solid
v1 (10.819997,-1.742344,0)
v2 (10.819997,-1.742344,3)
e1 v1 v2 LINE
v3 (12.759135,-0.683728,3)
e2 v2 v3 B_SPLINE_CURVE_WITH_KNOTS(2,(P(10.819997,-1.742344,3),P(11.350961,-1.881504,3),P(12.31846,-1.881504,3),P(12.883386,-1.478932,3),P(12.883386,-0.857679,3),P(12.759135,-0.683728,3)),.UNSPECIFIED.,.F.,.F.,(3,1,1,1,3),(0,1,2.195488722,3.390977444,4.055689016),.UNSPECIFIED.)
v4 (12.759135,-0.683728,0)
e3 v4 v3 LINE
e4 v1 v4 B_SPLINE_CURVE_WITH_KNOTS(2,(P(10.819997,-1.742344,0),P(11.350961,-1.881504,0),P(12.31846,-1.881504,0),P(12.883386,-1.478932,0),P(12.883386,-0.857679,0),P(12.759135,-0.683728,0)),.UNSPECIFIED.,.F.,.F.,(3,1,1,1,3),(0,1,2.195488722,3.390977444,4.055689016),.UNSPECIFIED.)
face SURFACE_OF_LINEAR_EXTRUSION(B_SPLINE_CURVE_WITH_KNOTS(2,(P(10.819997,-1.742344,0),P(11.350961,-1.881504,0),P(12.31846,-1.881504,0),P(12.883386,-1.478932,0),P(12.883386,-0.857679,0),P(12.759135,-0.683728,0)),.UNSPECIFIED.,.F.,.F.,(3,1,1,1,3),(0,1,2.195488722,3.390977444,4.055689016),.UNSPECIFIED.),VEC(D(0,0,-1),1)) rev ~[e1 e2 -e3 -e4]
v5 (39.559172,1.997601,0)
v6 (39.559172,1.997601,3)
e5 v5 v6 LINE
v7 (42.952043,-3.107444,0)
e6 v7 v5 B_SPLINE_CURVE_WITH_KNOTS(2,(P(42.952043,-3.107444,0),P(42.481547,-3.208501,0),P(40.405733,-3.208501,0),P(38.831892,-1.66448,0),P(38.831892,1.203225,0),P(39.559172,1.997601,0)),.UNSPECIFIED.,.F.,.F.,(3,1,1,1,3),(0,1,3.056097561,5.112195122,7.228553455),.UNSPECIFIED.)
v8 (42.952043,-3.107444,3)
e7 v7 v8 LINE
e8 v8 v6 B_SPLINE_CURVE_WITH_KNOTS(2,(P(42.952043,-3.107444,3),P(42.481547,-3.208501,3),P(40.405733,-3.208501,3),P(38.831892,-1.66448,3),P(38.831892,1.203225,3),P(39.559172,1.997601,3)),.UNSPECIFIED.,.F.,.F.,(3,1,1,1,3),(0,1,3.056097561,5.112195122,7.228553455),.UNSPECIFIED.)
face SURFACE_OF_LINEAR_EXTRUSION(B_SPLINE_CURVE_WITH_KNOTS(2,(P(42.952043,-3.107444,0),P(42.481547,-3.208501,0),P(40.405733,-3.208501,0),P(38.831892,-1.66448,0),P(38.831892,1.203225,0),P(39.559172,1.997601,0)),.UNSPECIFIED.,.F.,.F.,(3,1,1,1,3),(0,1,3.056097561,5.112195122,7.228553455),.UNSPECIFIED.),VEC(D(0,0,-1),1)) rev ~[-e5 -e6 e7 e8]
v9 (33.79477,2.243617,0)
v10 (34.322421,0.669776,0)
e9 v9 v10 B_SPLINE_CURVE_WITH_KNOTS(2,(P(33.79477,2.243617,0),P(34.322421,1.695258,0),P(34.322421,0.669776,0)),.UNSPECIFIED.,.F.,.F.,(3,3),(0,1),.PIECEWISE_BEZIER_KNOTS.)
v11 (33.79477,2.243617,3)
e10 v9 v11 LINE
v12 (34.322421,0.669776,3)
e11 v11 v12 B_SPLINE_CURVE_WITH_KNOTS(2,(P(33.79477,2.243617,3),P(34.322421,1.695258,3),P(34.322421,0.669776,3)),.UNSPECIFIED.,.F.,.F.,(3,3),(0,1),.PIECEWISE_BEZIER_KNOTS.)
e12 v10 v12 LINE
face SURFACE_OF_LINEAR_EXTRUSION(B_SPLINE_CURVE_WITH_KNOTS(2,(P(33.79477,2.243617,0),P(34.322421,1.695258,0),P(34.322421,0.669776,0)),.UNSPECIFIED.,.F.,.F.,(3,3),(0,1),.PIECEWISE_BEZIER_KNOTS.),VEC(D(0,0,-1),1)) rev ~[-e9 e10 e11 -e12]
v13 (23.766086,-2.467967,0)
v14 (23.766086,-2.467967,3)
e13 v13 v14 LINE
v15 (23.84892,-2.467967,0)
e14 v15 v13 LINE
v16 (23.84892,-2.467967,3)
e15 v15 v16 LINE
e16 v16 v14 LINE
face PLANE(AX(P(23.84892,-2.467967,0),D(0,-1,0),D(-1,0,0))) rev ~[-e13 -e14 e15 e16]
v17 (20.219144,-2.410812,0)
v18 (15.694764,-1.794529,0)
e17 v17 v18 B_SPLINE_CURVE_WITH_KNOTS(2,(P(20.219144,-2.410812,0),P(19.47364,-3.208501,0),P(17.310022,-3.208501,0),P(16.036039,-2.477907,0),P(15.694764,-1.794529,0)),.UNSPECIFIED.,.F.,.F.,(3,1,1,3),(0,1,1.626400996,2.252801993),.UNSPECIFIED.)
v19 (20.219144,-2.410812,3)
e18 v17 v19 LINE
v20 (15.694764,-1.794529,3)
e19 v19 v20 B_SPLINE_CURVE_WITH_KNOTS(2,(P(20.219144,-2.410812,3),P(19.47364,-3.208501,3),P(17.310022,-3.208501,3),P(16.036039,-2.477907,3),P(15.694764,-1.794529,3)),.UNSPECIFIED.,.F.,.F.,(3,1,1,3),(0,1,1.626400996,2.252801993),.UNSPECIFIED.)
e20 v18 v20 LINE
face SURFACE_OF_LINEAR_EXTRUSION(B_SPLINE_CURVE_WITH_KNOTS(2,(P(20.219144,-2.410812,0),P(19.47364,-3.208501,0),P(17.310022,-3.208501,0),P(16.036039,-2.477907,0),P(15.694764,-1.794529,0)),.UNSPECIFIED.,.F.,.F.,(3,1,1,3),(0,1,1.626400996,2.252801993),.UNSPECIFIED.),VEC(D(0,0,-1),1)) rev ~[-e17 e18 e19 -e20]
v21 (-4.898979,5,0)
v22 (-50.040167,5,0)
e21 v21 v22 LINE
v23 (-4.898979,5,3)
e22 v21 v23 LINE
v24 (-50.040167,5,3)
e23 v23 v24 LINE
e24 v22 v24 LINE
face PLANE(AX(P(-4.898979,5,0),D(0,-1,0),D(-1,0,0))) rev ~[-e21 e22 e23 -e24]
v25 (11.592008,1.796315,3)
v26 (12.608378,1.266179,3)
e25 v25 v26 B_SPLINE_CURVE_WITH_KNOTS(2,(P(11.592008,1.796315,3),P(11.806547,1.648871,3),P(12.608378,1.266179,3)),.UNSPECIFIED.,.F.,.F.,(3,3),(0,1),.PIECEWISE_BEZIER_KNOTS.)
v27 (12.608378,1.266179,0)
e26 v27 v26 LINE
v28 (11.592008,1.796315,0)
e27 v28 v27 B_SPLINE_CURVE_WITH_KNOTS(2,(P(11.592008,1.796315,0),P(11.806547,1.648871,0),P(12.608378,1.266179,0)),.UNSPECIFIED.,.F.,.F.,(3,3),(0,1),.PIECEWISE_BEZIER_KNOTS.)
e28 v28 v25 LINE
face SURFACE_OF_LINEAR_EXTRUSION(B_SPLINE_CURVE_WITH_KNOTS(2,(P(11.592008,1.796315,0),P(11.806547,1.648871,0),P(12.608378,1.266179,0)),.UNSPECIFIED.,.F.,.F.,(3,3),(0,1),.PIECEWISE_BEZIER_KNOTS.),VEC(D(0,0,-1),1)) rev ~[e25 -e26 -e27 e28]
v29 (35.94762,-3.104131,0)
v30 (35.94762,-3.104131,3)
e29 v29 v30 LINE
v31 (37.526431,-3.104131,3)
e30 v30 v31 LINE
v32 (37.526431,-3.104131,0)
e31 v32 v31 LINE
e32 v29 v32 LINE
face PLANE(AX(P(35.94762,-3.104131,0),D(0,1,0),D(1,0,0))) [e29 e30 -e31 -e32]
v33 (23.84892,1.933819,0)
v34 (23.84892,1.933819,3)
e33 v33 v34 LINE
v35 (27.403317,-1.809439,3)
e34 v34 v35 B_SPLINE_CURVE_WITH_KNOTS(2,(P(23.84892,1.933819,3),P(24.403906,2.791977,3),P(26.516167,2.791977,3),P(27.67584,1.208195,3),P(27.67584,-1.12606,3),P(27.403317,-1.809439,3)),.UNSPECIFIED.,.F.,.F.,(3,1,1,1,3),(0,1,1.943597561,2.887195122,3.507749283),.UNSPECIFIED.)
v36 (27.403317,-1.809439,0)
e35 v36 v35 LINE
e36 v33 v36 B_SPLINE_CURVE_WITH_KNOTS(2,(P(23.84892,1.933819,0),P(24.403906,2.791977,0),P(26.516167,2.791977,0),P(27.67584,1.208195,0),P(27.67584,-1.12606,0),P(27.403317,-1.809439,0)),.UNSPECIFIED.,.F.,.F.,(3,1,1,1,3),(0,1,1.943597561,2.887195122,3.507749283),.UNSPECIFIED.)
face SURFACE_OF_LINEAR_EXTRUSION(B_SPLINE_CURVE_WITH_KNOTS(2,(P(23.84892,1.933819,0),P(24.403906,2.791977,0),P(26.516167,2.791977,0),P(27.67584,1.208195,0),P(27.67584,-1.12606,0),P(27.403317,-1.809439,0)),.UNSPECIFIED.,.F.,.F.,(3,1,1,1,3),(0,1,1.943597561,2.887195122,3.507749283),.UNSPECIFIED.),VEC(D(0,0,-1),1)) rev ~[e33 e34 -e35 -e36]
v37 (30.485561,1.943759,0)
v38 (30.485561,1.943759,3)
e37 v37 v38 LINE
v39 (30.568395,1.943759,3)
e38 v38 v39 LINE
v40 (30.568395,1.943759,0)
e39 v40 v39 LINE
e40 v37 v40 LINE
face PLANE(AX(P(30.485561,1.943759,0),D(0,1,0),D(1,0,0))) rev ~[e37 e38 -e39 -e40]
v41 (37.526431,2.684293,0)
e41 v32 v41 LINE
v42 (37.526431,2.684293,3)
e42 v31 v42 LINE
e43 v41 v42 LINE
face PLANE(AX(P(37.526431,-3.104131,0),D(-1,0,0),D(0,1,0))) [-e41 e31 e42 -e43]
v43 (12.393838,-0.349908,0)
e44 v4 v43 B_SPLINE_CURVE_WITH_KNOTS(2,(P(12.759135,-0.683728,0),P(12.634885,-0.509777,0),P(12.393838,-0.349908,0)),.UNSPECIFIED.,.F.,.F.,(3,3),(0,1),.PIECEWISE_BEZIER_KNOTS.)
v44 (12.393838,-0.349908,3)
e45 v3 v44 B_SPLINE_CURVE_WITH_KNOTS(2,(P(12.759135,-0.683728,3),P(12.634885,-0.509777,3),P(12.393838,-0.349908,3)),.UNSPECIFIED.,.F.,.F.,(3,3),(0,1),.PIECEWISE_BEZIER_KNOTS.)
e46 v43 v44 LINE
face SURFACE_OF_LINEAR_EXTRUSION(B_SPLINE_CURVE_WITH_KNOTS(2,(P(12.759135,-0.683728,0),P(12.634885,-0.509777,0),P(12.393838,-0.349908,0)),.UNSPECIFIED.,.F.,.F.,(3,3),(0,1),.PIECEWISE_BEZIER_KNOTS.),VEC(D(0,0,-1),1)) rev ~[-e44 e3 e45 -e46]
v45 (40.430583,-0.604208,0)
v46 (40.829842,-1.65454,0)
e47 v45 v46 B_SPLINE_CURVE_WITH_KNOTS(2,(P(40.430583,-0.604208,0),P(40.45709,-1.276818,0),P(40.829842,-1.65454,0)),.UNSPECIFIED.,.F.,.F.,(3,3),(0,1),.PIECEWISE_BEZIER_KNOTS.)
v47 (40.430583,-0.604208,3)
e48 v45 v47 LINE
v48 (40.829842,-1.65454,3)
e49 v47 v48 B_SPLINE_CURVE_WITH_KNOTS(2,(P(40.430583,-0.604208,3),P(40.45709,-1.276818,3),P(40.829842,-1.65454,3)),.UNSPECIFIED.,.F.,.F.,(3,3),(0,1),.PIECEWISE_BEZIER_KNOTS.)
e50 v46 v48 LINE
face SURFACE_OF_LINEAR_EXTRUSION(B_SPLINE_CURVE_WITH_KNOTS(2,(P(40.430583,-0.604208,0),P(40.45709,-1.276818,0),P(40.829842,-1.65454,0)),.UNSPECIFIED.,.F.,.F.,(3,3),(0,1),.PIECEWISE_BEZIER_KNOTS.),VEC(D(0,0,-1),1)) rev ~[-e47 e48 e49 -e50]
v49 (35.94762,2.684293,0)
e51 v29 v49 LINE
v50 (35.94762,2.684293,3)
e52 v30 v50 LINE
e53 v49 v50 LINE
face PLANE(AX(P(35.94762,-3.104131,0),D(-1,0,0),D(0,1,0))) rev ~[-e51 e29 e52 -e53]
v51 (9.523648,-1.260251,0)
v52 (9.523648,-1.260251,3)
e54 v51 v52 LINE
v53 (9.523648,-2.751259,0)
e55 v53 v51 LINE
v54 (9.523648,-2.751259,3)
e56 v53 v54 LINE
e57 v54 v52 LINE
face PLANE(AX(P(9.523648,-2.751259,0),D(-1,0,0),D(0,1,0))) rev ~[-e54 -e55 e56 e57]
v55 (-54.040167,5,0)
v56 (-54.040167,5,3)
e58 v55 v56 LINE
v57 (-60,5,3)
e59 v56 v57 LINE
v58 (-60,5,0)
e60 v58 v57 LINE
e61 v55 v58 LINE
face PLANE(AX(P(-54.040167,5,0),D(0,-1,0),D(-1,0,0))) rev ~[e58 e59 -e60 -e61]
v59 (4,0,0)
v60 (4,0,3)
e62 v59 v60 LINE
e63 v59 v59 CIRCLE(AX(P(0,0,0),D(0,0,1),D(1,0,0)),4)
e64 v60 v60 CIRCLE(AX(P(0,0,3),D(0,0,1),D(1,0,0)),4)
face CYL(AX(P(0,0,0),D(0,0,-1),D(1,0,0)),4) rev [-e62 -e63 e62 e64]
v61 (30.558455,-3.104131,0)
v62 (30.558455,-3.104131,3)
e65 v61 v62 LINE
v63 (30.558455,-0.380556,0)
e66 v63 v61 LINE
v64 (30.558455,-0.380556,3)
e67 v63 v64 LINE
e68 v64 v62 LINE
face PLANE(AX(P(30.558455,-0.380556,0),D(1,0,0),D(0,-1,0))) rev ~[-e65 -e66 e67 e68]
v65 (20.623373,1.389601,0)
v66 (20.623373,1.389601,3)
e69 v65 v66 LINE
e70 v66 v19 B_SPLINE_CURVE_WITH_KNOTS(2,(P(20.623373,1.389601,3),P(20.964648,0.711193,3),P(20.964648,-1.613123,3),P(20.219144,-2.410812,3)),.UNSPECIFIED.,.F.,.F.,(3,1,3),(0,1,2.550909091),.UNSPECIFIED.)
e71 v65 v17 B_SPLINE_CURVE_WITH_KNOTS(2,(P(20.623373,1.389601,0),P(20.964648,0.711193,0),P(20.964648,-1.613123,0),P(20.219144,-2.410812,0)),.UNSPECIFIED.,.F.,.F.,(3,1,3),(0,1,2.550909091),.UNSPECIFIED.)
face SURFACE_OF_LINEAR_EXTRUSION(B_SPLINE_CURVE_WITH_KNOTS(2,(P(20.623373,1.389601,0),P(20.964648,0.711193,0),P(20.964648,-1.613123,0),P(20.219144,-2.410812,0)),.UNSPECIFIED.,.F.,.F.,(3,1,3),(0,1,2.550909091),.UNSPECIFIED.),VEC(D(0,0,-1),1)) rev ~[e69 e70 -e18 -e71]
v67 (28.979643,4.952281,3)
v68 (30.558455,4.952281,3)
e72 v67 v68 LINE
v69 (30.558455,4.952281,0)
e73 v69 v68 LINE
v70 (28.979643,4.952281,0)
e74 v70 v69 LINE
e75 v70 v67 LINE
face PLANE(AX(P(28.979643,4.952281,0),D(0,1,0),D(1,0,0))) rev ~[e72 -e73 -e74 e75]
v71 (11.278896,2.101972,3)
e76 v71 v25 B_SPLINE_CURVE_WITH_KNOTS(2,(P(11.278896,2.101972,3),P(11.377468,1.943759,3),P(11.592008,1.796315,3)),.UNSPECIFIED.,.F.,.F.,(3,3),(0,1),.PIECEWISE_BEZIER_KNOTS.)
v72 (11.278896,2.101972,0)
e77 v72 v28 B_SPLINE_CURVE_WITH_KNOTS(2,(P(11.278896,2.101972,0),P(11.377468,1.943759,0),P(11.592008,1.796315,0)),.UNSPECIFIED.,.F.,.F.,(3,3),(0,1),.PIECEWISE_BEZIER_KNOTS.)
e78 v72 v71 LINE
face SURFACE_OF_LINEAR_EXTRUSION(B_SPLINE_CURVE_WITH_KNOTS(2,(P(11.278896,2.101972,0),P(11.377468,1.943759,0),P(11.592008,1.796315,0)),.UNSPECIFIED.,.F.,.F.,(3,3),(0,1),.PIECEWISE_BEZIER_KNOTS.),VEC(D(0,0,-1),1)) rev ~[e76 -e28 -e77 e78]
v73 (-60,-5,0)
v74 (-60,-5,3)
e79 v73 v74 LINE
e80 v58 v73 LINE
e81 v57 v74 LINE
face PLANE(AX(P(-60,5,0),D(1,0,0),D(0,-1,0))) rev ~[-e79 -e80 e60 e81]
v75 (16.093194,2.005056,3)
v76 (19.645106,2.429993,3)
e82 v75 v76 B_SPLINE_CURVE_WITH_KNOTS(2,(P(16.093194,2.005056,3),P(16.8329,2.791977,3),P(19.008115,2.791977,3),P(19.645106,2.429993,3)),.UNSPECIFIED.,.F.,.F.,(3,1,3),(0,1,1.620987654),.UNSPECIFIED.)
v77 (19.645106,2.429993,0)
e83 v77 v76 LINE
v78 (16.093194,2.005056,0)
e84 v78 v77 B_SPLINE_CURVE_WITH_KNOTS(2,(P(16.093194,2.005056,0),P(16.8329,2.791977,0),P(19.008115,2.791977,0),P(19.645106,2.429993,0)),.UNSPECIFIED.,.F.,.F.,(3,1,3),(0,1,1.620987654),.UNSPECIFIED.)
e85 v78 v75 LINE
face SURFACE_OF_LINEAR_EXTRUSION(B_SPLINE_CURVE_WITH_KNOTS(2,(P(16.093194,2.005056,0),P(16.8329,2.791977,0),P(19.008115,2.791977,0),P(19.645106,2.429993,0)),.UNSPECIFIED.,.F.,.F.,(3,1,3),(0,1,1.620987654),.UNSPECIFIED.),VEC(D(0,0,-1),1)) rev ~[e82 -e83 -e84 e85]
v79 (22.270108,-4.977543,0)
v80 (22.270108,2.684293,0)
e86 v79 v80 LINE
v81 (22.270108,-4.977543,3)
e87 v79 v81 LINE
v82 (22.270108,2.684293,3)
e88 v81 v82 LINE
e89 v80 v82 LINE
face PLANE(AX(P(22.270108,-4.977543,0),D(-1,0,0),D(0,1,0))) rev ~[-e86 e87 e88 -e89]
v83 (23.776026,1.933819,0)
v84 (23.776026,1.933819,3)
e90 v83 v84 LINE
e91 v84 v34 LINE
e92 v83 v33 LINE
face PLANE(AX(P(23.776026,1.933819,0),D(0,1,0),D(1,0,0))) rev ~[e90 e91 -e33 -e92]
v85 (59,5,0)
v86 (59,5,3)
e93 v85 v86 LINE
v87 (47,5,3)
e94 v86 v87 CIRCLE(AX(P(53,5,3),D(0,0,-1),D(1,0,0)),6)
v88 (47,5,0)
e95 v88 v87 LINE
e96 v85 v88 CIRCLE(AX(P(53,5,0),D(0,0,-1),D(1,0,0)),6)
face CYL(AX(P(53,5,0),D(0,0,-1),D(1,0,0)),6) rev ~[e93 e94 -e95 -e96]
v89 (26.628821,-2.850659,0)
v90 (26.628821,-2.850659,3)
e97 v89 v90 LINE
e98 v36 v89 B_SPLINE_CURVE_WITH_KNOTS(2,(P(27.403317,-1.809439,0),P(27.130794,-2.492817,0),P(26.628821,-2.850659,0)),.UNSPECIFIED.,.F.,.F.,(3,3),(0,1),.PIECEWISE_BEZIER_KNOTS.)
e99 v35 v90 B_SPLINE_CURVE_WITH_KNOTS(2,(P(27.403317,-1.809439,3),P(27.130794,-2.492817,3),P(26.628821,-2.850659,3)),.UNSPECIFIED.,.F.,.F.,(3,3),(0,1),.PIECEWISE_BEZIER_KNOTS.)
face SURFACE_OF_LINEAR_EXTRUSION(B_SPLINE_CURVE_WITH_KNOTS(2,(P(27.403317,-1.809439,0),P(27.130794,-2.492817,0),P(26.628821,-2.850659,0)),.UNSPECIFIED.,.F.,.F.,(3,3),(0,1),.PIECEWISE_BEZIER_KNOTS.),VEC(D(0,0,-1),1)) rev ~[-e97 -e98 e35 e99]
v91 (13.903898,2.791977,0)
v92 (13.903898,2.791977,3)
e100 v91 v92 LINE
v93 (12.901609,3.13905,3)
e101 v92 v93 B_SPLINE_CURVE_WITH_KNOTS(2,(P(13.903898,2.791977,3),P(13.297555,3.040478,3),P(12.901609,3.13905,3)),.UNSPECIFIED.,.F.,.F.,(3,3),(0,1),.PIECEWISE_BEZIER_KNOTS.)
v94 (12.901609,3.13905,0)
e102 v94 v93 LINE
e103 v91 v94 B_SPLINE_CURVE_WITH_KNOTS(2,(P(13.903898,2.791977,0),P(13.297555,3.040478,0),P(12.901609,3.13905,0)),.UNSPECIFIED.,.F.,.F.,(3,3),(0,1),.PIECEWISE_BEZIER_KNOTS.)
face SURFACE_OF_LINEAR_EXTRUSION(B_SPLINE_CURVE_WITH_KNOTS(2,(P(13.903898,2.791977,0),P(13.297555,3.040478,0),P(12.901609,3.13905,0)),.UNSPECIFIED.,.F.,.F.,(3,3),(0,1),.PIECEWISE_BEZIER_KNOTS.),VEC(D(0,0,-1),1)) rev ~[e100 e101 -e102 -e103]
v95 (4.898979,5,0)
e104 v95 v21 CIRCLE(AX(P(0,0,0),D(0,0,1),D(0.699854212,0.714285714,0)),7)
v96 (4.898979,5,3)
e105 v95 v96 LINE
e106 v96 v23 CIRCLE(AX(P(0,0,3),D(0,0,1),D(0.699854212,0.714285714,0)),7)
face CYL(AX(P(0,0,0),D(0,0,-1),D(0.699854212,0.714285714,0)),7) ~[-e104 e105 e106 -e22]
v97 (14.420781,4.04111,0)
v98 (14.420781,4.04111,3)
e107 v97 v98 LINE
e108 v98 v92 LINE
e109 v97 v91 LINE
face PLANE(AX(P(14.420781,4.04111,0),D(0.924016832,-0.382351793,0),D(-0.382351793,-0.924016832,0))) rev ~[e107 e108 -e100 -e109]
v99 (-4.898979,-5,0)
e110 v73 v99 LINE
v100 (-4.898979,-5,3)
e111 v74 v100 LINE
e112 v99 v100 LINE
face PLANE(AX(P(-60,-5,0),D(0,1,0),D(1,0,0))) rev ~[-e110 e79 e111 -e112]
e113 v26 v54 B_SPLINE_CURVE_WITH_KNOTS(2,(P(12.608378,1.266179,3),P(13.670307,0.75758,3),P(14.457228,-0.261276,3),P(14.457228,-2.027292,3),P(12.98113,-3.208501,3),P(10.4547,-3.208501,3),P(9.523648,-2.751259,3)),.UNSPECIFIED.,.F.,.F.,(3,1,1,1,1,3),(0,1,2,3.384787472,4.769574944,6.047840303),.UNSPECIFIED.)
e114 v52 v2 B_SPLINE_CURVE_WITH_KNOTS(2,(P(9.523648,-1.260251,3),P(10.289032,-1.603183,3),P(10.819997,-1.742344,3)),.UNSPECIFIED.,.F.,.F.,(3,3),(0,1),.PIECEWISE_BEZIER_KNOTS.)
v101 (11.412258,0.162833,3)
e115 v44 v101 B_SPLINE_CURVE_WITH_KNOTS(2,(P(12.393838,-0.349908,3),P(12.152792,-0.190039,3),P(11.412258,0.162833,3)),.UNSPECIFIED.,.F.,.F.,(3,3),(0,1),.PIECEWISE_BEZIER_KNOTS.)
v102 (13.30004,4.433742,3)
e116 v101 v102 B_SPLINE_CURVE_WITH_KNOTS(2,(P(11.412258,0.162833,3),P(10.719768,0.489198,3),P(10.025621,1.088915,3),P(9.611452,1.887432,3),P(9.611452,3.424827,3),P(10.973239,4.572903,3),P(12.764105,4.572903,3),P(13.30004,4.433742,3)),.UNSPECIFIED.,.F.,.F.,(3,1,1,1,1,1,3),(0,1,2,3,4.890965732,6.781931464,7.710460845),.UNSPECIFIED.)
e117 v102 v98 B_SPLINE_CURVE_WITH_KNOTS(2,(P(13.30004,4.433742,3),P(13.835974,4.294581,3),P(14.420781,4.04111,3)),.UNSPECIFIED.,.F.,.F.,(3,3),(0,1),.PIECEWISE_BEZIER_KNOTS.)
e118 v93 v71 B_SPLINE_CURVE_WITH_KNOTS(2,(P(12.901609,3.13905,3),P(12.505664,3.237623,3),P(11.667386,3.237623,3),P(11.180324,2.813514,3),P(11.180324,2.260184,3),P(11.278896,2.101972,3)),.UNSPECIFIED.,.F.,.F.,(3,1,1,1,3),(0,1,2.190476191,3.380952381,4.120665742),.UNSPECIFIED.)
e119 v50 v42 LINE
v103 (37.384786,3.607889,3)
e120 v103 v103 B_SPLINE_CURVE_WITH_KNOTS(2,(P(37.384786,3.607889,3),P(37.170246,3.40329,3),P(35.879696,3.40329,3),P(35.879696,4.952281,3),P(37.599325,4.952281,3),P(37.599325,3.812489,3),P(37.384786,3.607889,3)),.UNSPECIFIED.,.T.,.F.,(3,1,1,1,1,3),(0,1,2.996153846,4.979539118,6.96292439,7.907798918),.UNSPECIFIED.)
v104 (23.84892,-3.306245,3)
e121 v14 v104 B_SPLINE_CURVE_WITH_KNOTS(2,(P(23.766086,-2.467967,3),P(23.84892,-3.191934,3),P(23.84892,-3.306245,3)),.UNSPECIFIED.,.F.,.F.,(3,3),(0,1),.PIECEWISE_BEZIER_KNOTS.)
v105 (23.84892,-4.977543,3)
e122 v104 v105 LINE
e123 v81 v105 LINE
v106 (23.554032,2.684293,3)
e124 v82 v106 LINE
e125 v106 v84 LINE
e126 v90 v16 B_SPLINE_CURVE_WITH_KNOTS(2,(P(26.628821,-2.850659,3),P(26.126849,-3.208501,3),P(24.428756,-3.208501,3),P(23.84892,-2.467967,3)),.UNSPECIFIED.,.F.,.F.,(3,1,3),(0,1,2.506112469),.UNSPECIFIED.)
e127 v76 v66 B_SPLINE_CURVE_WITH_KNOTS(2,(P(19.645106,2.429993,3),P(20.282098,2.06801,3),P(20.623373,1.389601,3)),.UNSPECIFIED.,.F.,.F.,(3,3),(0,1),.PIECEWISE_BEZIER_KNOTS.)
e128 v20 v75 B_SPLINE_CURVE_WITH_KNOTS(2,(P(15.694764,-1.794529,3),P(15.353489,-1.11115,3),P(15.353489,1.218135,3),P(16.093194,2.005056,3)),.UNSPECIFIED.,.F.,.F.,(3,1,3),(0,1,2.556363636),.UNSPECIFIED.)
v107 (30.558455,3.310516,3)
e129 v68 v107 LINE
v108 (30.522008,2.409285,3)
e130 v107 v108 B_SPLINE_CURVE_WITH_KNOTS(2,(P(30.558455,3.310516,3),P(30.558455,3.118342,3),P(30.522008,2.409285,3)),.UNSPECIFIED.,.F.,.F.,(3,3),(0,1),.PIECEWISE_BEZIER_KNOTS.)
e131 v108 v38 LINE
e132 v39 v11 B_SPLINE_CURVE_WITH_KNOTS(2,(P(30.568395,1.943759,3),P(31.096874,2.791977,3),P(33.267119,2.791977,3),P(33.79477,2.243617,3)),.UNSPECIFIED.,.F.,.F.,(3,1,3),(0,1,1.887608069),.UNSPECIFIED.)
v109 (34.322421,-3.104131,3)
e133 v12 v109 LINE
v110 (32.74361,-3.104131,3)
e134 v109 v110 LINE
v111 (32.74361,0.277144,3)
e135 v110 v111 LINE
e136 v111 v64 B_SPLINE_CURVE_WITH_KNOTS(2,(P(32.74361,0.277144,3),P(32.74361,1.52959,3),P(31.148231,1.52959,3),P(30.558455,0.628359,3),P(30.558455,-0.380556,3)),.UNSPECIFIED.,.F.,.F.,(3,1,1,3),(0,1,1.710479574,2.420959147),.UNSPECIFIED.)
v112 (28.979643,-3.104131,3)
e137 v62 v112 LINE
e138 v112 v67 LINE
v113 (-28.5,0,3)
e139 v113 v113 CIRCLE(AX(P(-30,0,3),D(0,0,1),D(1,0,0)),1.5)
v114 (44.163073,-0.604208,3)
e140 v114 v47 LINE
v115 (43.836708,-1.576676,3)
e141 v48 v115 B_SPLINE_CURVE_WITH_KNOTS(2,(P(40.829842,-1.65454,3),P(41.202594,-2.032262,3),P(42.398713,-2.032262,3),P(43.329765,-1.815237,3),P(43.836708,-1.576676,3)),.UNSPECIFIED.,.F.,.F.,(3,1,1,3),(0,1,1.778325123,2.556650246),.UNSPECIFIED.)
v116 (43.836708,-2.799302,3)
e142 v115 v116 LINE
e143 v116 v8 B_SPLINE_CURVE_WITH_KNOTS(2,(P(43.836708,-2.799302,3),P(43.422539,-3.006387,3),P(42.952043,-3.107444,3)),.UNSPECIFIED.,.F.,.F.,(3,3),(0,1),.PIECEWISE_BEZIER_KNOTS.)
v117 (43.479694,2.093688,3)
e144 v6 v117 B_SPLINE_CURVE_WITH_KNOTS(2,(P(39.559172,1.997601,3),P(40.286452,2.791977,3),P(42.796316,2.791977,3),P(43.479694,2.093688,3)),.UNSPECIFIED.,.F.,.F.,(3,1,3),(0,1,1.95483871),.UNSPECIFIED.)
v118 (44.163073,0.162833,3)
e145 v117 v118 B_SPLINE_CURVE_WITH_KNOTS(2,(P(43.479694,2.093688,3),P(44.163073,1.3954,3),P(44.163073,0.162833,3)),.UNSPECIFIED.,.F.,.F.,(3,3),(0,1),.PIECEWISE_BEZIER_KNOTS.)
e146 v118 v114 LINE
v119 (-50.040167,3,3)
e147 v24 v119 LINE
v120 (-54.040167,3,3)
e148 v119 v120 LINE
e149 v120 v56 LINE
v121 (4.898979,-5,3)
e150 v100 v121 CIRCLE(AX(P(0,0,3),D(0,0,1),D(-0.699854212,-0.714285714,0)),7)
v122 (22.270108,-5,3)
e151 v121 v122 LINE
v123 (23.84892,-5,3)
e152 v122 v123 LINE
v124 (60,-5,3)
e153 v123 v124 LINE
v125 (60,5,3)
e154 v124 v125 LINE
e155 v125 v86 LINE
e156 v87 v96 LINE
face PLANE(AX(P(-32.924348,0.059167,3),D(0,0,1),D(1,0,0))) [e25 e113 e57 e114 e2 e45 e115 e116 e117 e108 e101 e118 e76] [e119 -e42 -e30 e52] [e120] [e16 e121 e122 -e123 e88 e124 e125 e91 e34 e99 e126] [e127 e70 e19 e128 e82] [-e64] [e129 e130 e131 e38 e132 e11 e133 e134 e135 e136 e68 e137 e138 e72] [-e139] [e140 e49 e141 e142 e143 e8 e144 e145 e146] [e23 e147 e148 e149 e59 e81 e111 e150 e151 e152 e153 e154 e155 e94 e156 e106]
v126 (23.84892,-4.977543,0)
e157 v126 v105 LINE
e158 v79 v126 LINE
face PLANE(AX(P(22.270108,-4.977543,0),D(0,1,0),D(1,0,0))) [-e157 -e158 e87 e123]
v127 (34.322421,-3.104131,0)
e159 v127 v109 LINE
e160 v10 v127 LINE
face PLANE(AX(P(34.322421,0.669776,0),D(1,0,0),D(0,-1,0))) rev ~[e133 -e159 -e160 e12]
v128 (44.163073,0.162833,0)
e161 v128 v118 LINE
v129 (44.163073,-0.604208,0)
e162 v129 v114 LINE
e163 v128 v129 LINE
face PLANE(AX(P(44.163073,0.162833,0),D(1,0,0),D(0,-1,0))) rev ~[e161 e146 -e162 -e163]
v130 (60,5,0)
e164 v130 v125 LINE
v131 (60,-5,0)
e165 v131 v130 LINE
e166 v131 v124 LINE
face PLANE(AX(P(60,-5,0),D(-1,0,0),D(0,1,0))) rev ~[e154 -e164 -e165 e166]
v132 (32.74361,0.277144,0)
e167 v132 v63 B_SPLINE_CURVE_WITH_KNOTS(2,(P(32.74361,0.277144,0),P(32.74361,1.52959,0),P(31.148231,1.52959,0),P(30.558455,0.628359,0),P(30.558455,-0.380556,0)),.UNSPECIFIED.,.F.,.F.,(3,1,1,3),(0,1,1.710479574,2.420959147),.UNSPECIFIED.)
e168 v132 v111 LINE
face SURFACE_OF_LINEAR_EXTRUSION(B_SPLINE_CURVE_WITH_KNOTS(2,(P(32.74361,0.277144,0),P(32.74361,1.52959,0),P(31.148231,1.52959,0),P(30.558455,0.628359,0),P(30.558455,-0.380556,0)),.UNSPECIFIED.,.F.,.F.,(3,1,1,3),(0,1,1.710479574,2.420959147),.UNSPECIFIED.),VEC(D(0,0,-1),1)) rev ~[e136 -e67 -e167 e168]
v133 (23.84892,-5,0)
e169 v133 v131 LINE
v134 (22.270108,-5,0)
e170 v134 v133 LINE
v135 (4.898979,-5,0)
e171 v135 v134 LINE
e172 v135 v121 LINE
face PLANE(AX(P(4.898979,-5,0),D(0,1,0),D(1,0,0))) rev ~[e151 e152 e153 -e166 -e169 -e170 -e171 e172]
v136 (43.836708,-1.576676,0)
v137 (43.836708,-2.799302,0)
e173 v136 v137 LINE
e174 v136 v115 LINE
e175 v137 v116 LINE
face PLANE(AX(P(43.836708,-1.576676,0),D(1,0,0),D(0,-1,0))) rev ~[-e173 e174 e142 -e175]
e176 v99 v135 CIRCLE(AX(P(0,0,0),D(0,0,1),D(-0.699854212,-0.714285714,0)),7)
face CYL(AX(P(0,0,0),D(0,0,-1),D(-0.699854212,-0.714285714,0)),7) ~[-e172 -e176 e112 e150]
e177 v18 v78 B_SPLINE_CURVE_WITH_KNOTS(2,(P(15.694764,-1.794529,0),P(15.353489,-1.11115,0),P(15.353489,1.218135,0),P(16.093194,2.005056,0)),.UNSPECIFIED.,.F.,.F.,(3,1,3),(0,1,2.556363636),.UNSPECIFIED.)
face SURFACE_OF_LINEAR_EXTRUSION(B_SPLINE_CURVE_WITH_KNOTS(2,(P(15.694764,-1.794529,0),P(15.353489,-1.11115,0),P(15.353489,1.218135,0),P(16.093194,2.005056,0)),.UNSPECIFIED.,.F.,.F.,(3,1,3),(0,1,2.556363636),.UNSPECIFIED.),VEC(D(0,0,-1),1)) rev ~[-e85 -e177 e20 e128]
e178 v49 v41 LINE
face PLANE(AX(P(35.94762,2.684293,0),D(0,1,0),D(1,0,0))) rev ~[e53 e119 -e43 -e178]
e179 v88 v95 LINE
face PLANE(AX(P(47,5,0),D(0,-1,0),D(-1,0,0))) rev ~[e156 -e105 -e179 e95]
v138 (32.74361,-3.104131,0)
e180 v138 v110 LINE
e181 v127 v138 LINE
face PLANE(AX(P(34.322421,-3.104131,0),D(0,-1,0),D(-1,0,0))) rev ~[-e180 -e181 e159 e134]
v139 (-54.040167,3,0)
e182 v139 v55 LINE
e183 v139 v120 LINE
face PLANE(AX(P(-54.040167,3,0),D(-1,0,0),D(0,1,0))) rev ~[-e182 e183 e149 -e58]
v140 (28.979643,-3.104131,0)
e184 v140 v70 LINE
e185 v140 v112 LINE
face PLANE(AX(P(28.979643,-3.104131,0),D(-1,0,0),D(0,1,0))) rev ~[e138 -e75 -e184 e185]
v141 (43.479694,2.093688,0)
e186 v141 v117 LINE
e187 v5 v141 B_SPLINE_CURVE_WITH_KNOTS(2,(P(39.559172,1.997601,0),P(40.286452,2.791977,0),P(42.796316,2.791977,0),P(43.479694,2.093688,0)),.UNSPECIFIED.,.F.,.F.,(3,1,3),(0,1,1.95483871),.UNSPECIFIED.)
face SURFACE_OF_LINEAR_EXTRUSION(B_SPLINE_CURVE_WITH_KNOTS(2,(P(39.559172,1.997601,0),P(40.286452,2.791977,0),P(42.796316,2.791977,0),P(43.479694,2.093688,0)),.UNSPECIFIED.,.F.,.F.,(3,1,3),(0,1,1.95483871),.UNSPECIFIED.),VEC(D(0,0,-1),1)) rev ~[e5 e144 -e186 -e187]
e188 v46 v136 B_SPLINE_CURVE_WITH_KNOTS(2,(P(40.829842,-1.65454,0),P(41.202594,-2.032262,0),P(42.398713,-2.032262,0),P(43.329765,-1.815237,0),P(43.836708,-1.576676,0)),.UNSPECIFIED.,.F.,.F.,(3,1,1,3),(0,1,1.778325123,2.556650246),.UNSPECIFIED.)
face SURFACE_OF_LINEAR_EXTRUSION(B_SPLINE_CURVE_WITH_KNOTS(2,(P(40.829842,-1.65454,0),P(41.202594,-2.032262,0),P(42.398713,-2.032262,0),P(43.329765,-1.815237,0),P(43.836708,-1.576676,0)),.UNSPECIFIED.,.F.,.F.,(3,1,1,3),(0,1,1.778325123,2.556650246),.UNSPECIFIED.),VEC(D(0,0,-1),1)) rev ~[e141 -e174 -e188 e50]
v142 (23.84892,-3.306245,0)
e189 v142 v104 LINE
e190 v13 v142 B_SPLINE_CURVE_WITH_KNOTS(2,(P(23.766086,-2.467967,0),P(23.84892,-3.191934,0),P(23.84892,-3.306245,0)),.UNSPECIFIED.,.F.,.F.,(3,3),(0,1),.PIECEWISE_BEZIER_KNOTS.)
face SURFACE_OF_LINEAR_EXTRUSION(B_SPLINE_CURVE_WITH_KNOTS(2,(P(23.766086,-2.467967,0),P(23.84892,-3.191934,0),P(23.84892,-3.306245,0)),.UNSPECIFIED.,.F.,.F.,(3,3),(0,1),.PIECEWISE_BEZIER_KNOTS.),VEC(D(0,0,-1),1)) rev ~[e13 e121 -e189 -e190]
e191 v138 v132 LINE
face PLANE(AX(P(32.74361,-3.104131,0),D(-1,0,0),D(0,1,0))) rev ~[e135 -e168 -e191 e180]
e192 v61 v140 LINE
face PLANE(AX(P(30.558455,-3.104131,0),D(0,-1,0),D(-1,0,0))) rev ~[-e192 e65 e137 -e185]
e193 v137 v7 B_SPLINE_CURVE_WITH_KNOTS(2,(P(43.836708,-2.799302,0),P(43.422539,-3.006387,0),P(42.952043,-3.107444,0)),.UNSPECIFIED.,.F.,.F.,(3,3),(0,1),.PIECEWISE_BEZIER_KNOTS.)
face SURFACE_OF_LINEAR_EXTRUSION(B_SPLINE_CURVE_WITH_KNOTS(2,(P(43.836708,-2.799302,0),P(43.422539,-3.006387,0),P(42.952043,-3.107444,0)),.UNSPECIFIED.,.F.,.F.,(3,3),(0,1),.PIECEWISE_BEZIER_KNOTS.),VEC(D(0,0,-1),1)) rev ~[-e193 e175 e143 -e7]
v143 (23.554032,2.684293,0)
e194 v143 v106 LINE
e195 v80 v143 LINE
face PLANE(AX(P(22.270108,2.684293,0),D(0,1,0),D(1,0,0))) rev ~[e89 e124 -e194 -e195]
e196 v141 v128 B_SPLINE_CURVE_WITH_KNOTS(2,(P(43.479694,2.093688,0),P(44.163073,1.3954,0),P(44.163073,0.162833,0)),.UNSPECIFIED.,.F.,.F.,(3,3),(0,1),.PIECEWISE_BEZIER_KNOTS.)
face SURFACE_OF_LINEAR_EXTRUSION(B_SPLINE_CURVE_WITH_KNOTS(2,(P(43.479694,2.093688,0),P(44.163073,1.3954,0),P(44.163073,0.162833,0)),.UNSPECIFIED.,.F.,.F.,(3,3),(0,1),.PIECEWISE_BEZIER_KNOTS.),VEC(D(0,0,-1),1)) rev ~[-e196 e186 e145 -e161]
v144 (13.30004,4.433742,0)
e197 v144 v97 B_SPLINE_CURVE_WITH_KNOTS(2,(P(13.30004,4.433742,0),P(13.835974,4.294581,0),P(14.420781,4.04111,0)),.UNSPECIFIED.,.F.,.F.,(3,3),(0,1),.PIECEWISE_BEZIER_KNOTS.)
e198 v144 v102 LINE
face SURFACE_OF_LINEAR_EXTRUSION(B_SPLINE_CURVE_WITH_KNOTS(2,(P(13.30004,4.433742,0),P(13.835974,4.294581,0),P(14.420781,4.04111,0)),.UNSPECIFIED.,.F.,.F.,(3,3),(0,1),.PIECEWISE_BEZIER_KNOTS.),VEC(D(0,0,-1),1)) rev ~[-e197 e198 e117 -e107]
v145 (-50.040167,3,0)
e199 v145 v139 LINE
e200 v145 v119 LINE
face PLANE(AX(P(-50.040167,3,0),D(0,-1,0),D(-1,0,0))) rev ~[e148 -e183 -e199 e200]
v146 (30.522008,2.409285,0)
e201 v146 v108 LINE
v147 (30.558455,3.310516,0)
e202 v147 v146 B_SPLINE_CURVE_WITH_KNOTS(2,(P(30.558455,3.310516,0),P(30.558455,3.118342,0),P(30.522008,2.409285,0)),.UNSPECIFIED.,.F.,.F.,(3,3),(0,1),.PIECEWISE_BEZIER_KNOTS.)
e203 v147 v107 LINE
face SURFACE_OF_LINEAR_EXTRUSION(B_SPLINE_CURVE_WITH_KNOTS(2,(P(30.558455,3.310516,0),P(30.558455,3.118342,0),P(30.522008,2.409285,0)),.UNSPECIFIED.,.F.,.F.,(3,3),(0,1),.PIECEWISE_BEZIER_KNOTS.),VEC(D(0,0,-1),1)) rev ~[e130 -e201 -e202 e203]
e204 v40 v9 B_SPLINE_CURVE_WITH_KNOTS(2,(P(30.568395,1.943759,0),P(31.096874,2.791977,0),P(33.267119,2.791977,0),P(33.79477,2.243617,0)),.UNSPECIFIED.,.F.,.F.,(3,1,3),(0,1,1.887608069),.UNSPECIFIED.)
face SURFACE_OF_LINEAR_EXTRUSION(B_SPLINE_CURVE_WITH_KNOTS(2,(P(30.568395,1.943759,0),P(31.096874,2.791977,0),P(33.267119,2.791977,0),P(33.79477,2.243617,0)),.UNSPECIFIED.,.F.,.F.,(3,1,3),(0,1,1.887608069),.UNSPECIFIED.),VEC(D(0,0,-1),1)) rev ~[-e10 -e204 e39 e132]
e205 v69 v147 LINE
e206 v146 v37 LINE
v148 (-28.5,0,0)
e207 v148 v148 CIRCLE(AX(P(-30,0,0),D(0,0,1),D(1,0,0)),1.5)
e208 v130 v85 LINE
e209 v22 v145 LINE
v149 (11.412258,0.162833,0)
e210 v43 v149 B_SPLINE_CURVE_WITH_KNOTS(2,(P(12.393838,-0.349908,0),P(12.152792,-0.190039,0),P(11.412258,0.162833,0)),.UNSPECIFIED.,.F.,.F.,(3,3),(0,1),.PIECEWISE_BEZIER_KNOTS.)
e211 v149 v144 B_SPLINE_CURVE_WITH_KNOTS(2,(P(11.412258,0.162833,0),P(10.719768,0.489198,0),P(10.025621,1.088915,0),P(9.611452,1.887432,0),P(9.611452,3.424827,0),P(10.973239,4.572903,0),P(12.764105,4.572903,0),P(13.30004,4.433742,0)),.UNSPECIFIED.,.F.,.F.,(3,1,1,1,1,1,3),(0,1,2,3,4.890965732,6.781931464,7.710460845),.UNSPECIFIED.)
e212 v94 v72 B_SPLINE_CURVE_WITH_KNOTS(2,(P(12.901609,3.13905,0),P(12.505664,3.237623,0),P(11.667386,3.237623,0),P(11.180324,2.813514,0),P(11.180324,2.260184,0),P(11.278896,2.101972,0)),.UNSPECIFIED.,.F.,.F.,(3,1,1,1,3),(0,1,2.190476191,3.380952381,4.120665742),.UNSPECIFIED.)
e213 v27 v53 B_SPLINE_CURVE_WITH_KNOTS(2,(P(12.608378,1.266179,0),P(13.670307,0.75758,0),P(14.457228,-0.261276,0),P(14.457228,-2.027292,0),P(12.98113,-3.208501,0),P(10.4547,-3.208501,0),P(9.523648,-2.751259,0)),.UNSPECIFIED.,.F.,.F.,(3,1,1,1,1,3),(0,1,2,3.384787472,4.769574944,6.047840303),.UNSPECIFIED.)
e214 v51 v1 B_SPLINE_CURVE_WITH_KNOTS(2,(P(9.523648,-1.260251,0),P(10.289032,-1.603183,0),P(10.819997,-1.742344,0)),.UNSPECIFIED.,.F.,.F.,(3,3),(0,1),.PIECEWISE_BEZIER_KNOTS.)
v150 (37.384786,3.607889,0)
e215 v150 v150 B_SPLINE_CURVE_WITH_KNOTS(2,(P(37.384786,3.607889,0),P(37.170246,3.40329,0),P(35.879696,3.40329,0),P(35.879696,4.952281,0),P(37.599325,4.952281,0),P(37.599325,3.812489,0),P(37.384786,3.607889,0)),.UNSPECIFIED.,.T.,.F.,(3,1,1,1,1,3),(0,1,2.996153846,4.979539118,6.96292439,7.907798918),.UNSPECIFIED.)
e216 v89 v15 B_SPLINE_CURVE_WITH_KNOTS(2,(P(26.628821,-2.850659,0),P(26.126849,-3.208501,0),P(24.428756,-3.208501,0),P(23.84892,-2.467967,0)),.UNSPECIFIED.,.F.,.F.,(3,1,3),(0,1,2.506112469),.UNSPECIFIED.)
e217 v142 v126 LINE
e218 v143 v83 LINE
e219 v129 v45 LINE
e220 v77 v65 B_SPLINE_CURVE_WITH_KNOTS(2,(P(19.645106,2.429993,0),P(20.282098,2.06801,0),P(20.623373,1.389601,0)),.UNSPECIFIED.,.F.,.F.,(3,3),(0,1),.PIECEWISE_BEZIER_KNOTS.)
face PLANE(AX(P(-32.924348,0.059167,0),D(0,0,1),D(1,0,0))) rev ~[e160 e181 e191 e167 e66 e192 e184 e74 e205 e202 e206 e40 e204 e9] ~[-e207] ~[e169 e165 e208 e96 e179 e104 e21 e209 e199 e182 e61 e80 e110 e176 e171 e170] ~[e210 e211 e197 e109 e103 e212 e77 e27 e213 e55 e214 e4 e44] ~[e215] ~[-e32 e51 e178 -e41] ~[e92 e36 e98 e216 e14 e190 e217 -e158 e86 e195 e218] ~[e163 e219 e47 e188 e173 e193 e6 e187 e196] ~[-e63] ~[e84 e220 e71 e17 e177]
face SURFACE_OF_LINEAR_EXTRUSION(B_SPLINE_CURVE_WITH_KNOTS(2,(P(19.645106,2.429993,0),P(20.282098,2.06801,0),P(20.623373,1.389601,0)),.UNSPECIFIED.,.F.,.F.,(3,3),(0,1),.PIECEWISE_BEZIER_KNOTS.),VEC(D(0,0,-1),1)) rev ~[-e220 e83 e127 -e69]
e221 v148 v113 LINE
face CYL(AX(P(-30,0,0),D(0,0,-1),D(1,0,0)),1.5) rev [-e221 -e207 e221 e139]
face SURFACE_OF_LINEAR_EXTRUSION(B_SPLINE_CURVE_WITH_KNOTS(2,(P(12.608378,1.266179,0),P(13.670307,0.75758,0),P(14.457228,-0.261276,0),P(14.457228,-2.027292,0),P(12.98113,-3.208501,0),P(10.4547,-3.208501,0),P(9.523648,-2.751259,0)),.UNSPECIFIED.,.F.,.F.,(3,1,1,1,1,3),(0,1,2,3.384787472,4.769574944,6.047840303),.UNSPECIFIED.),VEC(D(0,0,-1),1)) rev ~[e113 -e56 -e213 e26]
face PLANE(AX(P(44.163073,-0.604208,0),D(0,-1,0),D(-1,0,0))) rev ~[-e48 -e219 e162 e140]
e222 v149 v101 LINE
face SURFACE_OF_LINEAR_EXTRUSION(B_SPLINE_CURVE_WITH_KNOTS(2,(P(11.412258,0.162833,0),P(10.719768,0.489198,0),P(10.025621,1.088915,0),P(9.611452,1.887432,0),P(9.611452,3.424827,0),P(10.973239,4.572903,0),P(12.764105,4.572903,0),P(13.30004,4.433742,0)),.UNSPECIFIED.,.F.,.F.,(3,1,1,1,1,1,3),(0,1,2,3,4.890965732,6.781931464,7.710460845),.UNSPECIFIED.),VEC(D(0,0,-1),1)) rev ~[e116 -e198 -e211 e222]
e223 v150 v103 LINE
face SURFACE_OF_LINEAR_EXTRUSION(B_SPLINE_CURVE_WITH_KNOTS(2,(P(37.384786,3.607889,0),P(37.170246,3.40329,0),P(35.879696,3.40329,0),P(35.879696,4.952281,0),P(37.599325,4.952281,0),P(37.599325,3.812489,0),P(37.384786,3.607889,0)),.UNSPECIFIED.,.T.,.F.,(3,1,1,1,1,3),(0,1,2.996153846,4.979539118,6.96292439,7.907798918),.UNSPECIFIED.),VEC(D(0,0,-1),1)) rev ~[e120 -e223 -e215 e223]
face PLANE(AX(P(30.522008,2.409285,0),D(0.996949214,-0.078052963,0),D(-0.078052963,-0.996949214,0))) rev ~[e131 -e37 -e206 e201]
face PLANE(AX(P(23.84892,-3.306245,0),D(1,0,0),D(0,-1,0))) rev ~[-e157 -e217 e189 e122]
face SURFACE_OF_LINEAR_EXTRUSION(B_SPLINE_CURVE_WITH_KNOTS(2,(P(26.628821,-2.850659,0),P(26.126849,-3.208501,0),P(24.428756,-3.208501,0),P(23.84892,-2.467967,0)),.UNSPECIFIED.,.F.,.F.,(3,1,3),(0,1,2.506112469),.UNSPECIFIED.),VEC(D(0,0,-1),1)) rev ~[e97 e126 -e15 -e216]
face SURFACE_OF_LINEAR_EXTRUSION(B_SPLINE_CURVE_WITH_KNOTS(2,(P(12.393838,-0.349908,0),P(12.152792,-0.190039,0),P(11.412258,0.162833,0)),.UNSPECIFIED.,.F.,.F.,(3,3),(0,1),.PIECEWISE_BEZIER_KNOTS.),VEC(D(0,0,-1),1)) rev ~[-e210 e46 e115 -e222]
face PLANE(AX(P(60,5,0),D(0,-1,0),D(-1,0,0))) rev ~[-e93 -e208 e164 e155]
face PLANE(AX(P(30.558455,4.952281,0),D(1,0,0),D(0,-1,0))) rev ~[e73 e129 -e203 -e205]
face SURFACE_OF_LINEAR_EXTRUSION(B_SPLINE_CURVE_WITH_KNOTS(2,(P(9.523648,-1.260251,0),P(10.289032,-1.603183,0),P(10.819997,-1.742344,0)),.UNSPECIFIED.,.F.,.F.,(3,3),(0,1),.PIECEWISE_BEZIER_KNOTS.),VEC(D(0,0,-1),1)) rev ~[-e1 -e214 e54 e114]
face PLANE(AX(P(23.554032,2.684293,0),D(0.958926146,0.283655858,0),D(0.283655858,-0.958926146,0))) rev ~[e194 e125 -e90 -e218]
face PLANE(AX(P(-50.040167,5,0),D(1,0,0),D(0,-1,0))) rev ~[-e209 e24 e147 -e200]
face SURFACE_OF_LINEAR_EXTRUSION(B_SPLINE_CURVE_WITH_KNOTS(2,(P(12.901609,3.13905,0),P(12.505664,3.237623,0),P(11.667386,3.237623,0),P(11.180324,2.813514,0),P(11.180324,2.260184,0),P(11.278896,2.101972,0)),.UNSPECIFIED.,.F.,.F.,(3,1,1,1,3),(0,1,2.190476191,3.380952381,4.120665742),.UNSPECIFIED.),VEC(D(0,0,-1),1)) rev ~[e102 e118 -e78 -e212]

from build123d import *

# Parameters (mm, degrees)
F0_R     = 1.5
F0_R_2   = 4
F0_W     = 1.5788115779
F0_H     = 5.7884235604
F0_H_2   = 0.0224566273
F1_DEPTH = 3


with BuildPart() as f1:
    # F0 (on Top) → F1 (new body)
    with BuildSketch(Plane.XY):
        with BuildLine():
            Line((-54.0401674807, 5), (-60, 5))
            Line((-60, 5), (-60, -5))
            Line((-60, -5), (-4.8989794856, -5))
            ThreePointArc((-4.8989794856, -5), (-7, 0), (-4.8989794856, 5))
            Line((-4.8989794856, 5), (-50.0401674807, 5))
            Line((-50.0401674807, 5), (-50.0401674807, 3))
            Line((-50.0401674807, 3), (-54.0401674807, 3))
            Line((-54.0401674807, 3), (-54.0401674807, 5))
        make_face()
        with Locations((-30, 0)):
            Circle(F0_R, mode=Mode.SUBTRACT)
        with BuildLine():
            ThreePointArc((-4.8989794856, 5), (-7, 0), (-4.8989794856, -5))
            Line((-4.8989794856, -5), (4.8989794856, -5))
            ThreePointArc((4.8989794856, -5), (6.4534043883, -2.7117470016), (7, 0))
            ThreePointArc((7, 0), (6.4534043883, 2.7117470016), (4.8989794856, 5))
            Line((4.8989794856, 5), (-4.8989794856, 5))
        make_face()
        Circle(F0_R_2, mode=Mode.SUBTRACT)
        with BuildLine():
            Line((4.8989794856, -5), (-4.8989794856, -5))
            ThreePointArc((-4.8989794856, -5), (0, -7), (4.8989794856, -5))
        make_face()
        with BuildLine():
            ThreePointArc((4.8989794856, 5), (0, 7), (-4.8989794856, 5))
            Line((-4.8989794856, 5), (4.8989794856, 5))
        make_face()
        with BuildLine():
            ThreePointArc((7, 0), (6.4534043883, -2.7117470016), (4.8989794856, -5))
            Line((4.8989794856, -5), (22.270108379, -5))
            Line((22.270108379, -5), (22.270108379, -4.9775433727))
            Line((22.270108379, -4.9775433727), (22.270108379, 2.6842929448))
            Line((22.270108379, 2.6842929448), (23.5540317503, 2.6842929448))
            Line((23.5540317503, 2.6842929448), (23.7760262429, 1.9338190258))
            Line((23.7760262429, 1.9338190258), (23.8489199569, 1.9338190258))
            add(Edge.make_bspline(
                [(23.8489199569, 1.9338190258), (24.4039061884, 2.7919768404), (25.4906851969, 2.7919768404)],
                knots=[0, 0, 0, 1, 1, 1], degree=2))
            add(Edge.make_bspline(
                [(25.4906851969, 2.7919768404), (26.5161672186, 2.7919768404), (27.0960035798, 2.0000860385)],
                knots=[0, 0, 0, 1, 1, 1], degree=2))
            add(Edge.make_bspline(
                [(27.0960035798, 2.0000860385), (27.675839941, 1.2081952366), (27.675839941, -0.1999787835)],
                knots=[0, 0, 0, 1, 1, 1], degree=2))
            add(Edge.make_bspline(
                [(27.675839941, -0.1999787835), (27.675839941, -1.1260602862), (27.4033168513, -1.8094388548)],
                knots=[0, 0, 0, 1, 1, 1], degree=2))
            add(Edge.make_bspline(
                [(27.4033168513, -1.8094388548), (27.1307937615, -2.4928174234), (26.6288211402, -2.850659292)],
                knots=[0, 0, 0, 1, 1, 1], degree=2))
            add(Edge.make_bspline(
                [(26.6288211402, -2.850659292), (26.1268485189, -3.2085011607), (25.4492683139, -3.2085011607)],
                knots=[0, 0, 0, 1, 1, 1], degree=2))
            add(Edge.make_bspline(
                [(25.4492683139, -3.2085011607), (24.4287563181, -3.2085011607), (23.8489199569, -2.4679672936)],
                knots=[0, 0, 0, 1, 1, 1], degree=2))
            Line((23.8489199569, -2.4679672936), (23.766086191, -2.4679672936))
            add(Edge.make_bspline(
                [(23.766086191, -2.4679672936), (23.8489199569, -3.1919344075), (23.8489199569, -3.3062450044)],
                knots=[0, 0, 0, 1, 1, 1], degree=2))
            Line((23.8489199569, -3.3062450044), (23.8489199569, -4.9775433727))
            Line((23.8489199569, -4.9775433727), (23.8489199569, -5))
            Line((23.8489199569, -5), (60, -5))
            Line((60, -5), (60, 5))
            Line((60, 5), (59, 5))
            ThreePointArc((59, 5), (53, -1), (47, 5))
            Line((47, 5), (4.8989794856, 5))
            ThreePointArc((4.8989794856, 5), (6.4534043883, 2.7117470016), (7, 0))
        make_face()
        with BuildLine():
            add(Edge.make_bspline(
                [(14.0637671923, 0.2481518899), (14.4572275803, -0.2612757703), (14.4572275803, -1.0018096374)],
                knots=[0, 0, 0, 1, 1, 1], degree=2))
            add(Edge.make_bspline(
                [(14.4572275803, -1.0018096374), (14.4572275803, -2.0272916591), (13.7191787262, -2.6178964099)],
                knots=[0, 0, 0, 1, 1, 1], degree=2))
            add(Edge.make_bspline(
                [(13.7191787262, -2.6178964099), (12.9811298721, -3.2085011607), (11.6673863451, -3.2085011607)],
                knots=[0, 0, 0, 1, 1, 1], degree=2))
            add(Edge.make_bspline(
                [(11.6673863451, -3.2085011607), (10.4547000125, -3.2085011607), (9.5236484838, -2.751258773)],
                knots=[0, 0, 0, 1, 1, 1], degree=2))
            Line((9.5236484838, -2.751258773), (9.5236484838, -1.2602509869))
            add(Edge.make_bspline(
                [(9.5236484838, -1.2602509869), (10.2890324807, -1.6031827777), (10.81999692, -1.7423435044)],
                knots=[0, 0, 0, 1, 1, 1], degree=2))
            add(Edge.make_bspline(
                [(10.81999692, -1.7423435044), (11.3509613594, -1.8815042311), (11.7916369939, -1.8815042311)],
                knots=[0, 0, 0, 1, 1, 1], degree=2))
            add(Edge.make_bspline(
                [(11.7916369939, -1.8815042311), (12.318459745, -1.8815042311), (12.6009228867, -1.68021818)],
                knots=[0, 0, 0, 1, 1, 1], degree=2))
            add(Edge.make_bspline(
                [(12.6009228867, -1.68021818), (12.8833860284, -1.4789321289), (12.8833860284, -1.0796733773)],
                knots=[0, 0, 0, 1, 1, 1], degree=2))
            add(Edge.make_bspline(
                [(12.8833860284, -1.0796733773), (12.8833860284, -0.8576788847), (12.7591353795, -0.6837279763)],
                knots=[0, 0, 0, 1, 1, 1], degree=2))
            add(Edge.make_bspline(
                [(12.7591353795, -0.6837279763), (12.6348847307, -0.509777068), (12.3938384719, -0.3499078998)],
                knots=[0, 0, 0, 1, 1, 1], degree=2))
            add(Edge.make_bspline(
                [(12.3938384719, -0.3499078998), (12.1527922132, -0.1900387316), (11.4122583461, 0.162833111)],
                knots=[0, 0, 0, 1, 1, 1], degree=2))
            add(Edge.make_bspline(
                [(11.4122583461, 0.162833111), (10.7197680633, 0.4891981487), (10.3726945842, 0.7890563812)],
                knots=[0, 0, 0, 1, 1, 1], degree=2))
            add(Edge.make_bspline(
                [(10.3726945842, 0.7890563812), (10.0256211051, 1.0889146137), (9.8185366904, 1.4881733653)],
                knots=[0, 0, 0, 1, 1, 1], degree=2))
            add(Edge.make_bspline(
                [(9.8185366904, 1.4881733653), (9.6114522757, 1.8874321169), (9.6114522757, 2.4192248939)],
                knots=[0, 0, 0, 1, 1, 1], degree=2))
            add(Edge.make_bspline(
                [(9.6114522757, 2.4192248939), (9.6114522757, 3.4248268118), (10.2923458313, 3.9988648094)],
                knots=[0, 0, 0, 1, 1, 1], degree=2))
            add(Edge.make_bspline(
                [(10.2923458313, 3.9988648094), (10.9732393869, 4.572902807), (12.1743289923, 4.572902807)],
                knots=[0, 0, 0, 1, 1, 1], degree=2))
            add(Edge.make_bspline(
                [(12.1743289923, 4.572902807), (12.7641054055, 4.572902807), (13.3000398708, 4.4337420804)],
                knots=[0, 0, 0, 1, 1, 1], degree=2))
            add(Edge.make_bspline(
                [(13.3000398708, 4.4337420804), (13.8359743361, 4.2945813537), (14.4207807233, 4.04111003)],
                knots=[0, 0, 0, 1, 1, 1], degree=2))
            Line((14.4207807233, 4.04111003), (13.9038980241, 2.7919768404))
            add(Edge.make_bspline(
                [(13.9038980241, 2.7919768404), (13.2975548578, 3.0404781381), (12.9016094569, 3.1390503195)],
                knots=[0, 0, 0, 1, 1, 1], degree=2))
            add(Edge.make_bspline(
                [(12.9016094569, 3.1390503195), (12.5056640559, 3.2376225009), (12.1229720575, 3.2376225009)],
                knots=[0, 0, 0, 1, 1, 1], degree=2))
            add(Edge.make_bspline(
                [(12.1229720575, 3.2376225009), (11.6673863451, 3.2376225009), (11.4238550734, 3.0255680602)],
                knots=[0, 0, 0, 1, 1, 1], degree=2))
            add(Edge.make_bspline(
                [(11.4238550734, 3.0255680602), (11.1803238017, 2.8135136195), (11.1803238017, 2.4722385041)],
                knots=[0, 0, 0, 1, 1, 1], degree=2))
            add(Edge.make_bspline(
                [(11.1803238017, 2.4722385041), (11.1803238017, 2.2601840634), (11.2788959831, 2.1019715705)],
                knots=[0, 0, 0, 1, 1, 1], degree=2))
            add(Edge.make_bspline(
                [(11.2788959831, 2.1019715705), (11.3774681645, 1.9437590777), (11.5920076181, 1.7963149744)],
                knots=[0, 0, 0, 1, 1, 1], degree=2))
            add(Edge.make_bspline(
                [(11.5920076181, 1.7963149744), (11.8065470718, 1.6488708711), (12.6083779256, 1.2661788727)],
                knots=[0, 0, 0, 1, 1, 1], degree=2))
            add(Edge.make_bspline(
                [(12.6083779256, 1.2661788727), (13.6703068043, 0.7575795501), (14.0637671923, 0.2481518899)],
                knots=[0, 0, 0, 1, 1, 1], degree=2))
        make_face(mode=Mode.SUBTRACT)
        with BuildLine():
            add(Edge.make_bspline(
                [(20.6233731131, 1.3896011839), (20.9646482286, 0.7111926412), (20.9646482286, -0.1999787835)],
                knots=[0, 0, 0, 1, 1, 1], degree=2))
            add(Edge.make_bspline(
                [(20.9646482286, -0.1999787835), (20.9646482286, -1.6131228296), (20.2191443356, -2.4108119952)],
                knots=[0, 0, 0, 1, 1, 1], degree=2))
            add(Edge.make_bspline(
                [(20.2191443356, -2.4108119952), (19.4736404426, -3.2085011607), (18.1433301624, -3.2085011607)],
                knots=[0, 0, 0, 1, 1, 1], degree=2))
            add(Edge.make_bspline(
                [(18.1433301624, -3.2085011607), (17.3100224775, -3.2085011607), (16.6730308178, -2.8432042531)],
                knots=[0, 0, 0, 1, 1, 1], degree=2))
            add(Edge.make_bspline(
                [(16.6730308178, -2.8432042531), (16.0360391581, -2.4779073455), (15.6947640427, -1.7945287769)],
                knots=[0, 0, 0, 1, 1, 1], degree=2))
            add(Edge.make_bspline(
                [(15.6947640427, -1.7945287769), (15.3534889272, -1.1111502083), (15.3534889272, -0.1999787835)],
                knots=[0, 0, 0, 1, 1, 1], degree=2))
            add(Edge.make_bspline(
                [(15.3534889272, -0.1999787835), (15.3534889272, 1.2181352885), (16.0931944566, 2.0050560644)],
                knots=[0, 0, 0, 1, 1, 1], degree=2))
            add(Edge.make_bspline(
                [(16.0931944566, 2.0050560644), (16.832899986, 2.7919768404), (18.1748069934, 2.7919768404)],
                knots=[0, 0, 0, 1, 1, 1], degree=2))
            add(Edge.make_bspline(
                [(18.1748069934, 2.7919768404), (19.0081146783, 2.7919768404), (19.645106338, 2.4299932835)],
                knots=[0, 0, 0, 1, 1, 1], degree=2))
            add(Edge.make_bspline(
                [(19.645106338, 2.4299932835), (20.2820979977, 2.0680097265), (20.6233731131, 1.3896011839)],
                knots=[0, 0, 0, 1, 1, 1], degree=2))
        make_face(mode=Mode.SUBTRACT)
        with Locations((36.7370255918, -0.2099188355)):
            Rectangle(F0_W, F0_H, mode=Mode.SUBTRACT)
        with BuildLine():
            add(Edge.make_bspline(
                [(42.9520430465, -3.1074439663), (42.4815472563, -3.2085011607), (41.802310376, -3.2085011607)],
                knots=[0, 0, 0, 1, 1, 1], degree=2))
            add(Edge.make_bspline(
                [(41.802310376, -3.2085011607), (40.4057330831, -3.2085011607), (39.6188123071, -2.4364904626)],
                knots=[0, 0, 0, 1, 1, 1], degree=2))
            add(Edge.make_bspline(
                [(39.6188123071, -2.4364904626), (38.8318915311, -1.6644797645), (38.8318915311, -0.2513357184)],
                knots=[0, 0, 0, 1, 1, 1], degree=2))
            add(Edge.make_bspline(
                [(38.8318915311, -0.2513357184), (38.8318915311, 1.2032252106), (39.5591719957, 1.9976010255)],
                knots=[0, 0, 0, 1, 1, 1], degree=2))
            add(Edge.make_bspline(
                [(39.5591719957, 1.9976010255), (40.2864524602, 2.7919768404), (41.5703758315, 2.7919768404)],
                knots=[0, 0, 0, 1, 1, 1], degree=2))
            add(Edge.make_bspline(
                [(41.5703758315, 2.7919768404), (42.7963155667, 2.7919768404), (43.4796941353, 2.093688194)],
                knots=[0, 0, 0, 1, 1, 1], degree=2))
            add(Edge.make_bspline(
                [(43.4796941353, 2.093688194), (44.1630727038, 1.3953995475), (44.1630727038, 0.162833111)],
                knots=[0, 0, 0, 1, 1, 1], degree=2))
            Line((44.1630727038, 0.162833111), (44.1630727038, -0.6042075611))
            Line((44.1630727038, -0.6042075611), (40.4305832128, -0.6042075611))
            add(Edge.make_bspline(
                [(40.4305832128, -0.6042075611), (40.4570900179, -1.2768177401), (40.8298419644, -1.6545397126)],
                knots=[0, 0, 0, 1, 1, 1], degree=2))
            add(Edge.make_bspline(
                [(40.8298419644, -1.6545397126), (41.2025939109, -2.032261685), (41.87520409, -2.032261685)],
                knots=[0, 0, 0, 1, 1, 1], degree=2))
            add(Edge.make_bspline(
                [(41.87520409, -2.032261685), (42.3987134904, -2.032261685), (42.8642392547, -1.9237494517)],
                knots=[0, 0, 0, 1, 1, 1], degree=2))
            add(Edge.make_bspline(
                [(42.8642392547, -1.9237494517), (43.329765019, -1.8152372184), (43.8367076662, -1.5766759726)],
                knots=[0, 0, 0, 1, 1, 1], degree=2))
            Line((43.8367076662, -1.5766759726), (43.8367076662, -2.7993023572))
            add(Edge.make_bspline(
                [(43.8367076662, -2.7993023572), (43.4225388368, -3.0063867719), (42.9520430465, -3.1074439663)],
                knots=[0, 0, 0, 1, 1, 1], degree=2))
        make_face(mode=Mode.SUBTRACT)
        with BuildLine():
            Line((34.3224213161, 0.6697757583), (34.3224213161, -3.1041306157))
            Line((34.3224213161, -3.1041306157), (32.7436097382, -3.1041306157))
            Line((32.7436097382, -3.1041306157), (32.7436097382, 0.277143708))
            add(Edge.make_bspline(
                [(32.7436097382, 0.277143708), (32.7436097382, 1.5295902482), (31.8109015343, 1.5295902482)],
                knots=[0, 0, 0, 1, 1, 1], degree=2))
            add(Edge.make_bspline(
                [(31.8109015343, 1.5295902482), (31.1482314072, 1.5295902482), (30.8533432006, 1.0789745618)],
                knots=[0, 0, 0, 1, 1, 1], degree=2))
            add(Edge.make_bspline(
                [(30.8533432006, 1.0789745618), (30.558454994, 0.6283588754), (30.558454994, -0.3805563932)],
                knots=[0, 0, 0, 1, 1, 1], degree=2))
            Line((30.558454994, -0.3805563932), (30.558454994, -3.1041306157))
            Line((30.558454994, -3.1041306157), (28.9796434162, -3.1041306157))
            Line((28.9796434162, -3.1041306157), (28.9796434162, 4.9522814548))
            Line((28.9796434162, 4.9522814548), (30.558454994, 4.9522814548))
            Line((30.558454994, 4.9522814548), (30.558454994, 3.3105162149))
            add(Edge.make_bspline(
                [(30.558454994, 3.3105162149), (30.558454994, 3.118341878), (30.522008137, 2.409284842)],
                knots=[0, 0, 0, 1, 1, 1], degree=2))
            Line((30.522008137, 2.409284842), (30.48556128, 1.9437590777))
            Line((30.48556128, 1.9437590777), (30.5683950459, 1.9437590777))
            add(Edge.make_bspline(
                [(30.5683950459, 1.9437590777), (31.0968744723, 2.7919768404), (32.2466071429, 2.7919768404)],
                knots=[0, 0, 0, 1, 1, 1], degree=2))
            add(Edge.make_bspline(
                [(32.2466071429, 2.7919768404), (33.2671191386, 2.7919768404), (33.7947702274, 2.2436173102)],
                knots=[0, 0, 0, 1, 1, 1], degree=2))
            add(Edge.make_bspline(
                [(33.7947702274, 2.2436173102), (34.3224213161, 1.69525778), (34.3224213161, 0.6697757583)],
                knots=[0, 0, 0, 1, 1, 1], degree=2))
        make_face(mode=Mode.SUBTRACT)
        with BuildLine():
            add(Edge.make_bspline(
                [(36.7395106048, 3.4032900327), (35.8796961148, 3.4032900327), (35.8796961148, 4.1802707567)],
                knots=[0, 0, 0, 1, 1, 1], degree=2))
            add(Edge.make_bspline(
                [(35.8796961148, 4.1802707567), (35.8796961148, 4.9522814548), (36.7395106048, 4.9522814548)],
                knots=[0, 0, 0, 1, 1, 1], degree=2))
            add(Edge.make_bspline(
                [(36.7395106048, 4.9522814548), (37.5993250947, 4.9522814548), (37.5993250947, 4.1802707567)],
                knots=[0, 0, 0, 1, 1, 1], degree=2))
            add(Edge.make_bspline(
                [(37.5993250947, 4.1802707567), (37.5993250947, 3.8124888362), (37.384785641, 3.6078894344)],
                knots=[0, 0, 0, 1, 1, 1], degree=2))
            add(Edge.make_bspline(
                [(37.384785641, 3.6078894344), (37.1702461874, 3.4032900327), (36.7395106048, 3.4032900327)],
                knots=[0, 0, 0, 1, 1, 1], degree=2))
        make_face(mode=Mode.SUBTRACT)
        with Locations((23.059514168, -4.9887716863)):
            Rectangle(F0_W, F0_H_2)
    extrude(amount=F1_DEPTH)


solid = f1.part
